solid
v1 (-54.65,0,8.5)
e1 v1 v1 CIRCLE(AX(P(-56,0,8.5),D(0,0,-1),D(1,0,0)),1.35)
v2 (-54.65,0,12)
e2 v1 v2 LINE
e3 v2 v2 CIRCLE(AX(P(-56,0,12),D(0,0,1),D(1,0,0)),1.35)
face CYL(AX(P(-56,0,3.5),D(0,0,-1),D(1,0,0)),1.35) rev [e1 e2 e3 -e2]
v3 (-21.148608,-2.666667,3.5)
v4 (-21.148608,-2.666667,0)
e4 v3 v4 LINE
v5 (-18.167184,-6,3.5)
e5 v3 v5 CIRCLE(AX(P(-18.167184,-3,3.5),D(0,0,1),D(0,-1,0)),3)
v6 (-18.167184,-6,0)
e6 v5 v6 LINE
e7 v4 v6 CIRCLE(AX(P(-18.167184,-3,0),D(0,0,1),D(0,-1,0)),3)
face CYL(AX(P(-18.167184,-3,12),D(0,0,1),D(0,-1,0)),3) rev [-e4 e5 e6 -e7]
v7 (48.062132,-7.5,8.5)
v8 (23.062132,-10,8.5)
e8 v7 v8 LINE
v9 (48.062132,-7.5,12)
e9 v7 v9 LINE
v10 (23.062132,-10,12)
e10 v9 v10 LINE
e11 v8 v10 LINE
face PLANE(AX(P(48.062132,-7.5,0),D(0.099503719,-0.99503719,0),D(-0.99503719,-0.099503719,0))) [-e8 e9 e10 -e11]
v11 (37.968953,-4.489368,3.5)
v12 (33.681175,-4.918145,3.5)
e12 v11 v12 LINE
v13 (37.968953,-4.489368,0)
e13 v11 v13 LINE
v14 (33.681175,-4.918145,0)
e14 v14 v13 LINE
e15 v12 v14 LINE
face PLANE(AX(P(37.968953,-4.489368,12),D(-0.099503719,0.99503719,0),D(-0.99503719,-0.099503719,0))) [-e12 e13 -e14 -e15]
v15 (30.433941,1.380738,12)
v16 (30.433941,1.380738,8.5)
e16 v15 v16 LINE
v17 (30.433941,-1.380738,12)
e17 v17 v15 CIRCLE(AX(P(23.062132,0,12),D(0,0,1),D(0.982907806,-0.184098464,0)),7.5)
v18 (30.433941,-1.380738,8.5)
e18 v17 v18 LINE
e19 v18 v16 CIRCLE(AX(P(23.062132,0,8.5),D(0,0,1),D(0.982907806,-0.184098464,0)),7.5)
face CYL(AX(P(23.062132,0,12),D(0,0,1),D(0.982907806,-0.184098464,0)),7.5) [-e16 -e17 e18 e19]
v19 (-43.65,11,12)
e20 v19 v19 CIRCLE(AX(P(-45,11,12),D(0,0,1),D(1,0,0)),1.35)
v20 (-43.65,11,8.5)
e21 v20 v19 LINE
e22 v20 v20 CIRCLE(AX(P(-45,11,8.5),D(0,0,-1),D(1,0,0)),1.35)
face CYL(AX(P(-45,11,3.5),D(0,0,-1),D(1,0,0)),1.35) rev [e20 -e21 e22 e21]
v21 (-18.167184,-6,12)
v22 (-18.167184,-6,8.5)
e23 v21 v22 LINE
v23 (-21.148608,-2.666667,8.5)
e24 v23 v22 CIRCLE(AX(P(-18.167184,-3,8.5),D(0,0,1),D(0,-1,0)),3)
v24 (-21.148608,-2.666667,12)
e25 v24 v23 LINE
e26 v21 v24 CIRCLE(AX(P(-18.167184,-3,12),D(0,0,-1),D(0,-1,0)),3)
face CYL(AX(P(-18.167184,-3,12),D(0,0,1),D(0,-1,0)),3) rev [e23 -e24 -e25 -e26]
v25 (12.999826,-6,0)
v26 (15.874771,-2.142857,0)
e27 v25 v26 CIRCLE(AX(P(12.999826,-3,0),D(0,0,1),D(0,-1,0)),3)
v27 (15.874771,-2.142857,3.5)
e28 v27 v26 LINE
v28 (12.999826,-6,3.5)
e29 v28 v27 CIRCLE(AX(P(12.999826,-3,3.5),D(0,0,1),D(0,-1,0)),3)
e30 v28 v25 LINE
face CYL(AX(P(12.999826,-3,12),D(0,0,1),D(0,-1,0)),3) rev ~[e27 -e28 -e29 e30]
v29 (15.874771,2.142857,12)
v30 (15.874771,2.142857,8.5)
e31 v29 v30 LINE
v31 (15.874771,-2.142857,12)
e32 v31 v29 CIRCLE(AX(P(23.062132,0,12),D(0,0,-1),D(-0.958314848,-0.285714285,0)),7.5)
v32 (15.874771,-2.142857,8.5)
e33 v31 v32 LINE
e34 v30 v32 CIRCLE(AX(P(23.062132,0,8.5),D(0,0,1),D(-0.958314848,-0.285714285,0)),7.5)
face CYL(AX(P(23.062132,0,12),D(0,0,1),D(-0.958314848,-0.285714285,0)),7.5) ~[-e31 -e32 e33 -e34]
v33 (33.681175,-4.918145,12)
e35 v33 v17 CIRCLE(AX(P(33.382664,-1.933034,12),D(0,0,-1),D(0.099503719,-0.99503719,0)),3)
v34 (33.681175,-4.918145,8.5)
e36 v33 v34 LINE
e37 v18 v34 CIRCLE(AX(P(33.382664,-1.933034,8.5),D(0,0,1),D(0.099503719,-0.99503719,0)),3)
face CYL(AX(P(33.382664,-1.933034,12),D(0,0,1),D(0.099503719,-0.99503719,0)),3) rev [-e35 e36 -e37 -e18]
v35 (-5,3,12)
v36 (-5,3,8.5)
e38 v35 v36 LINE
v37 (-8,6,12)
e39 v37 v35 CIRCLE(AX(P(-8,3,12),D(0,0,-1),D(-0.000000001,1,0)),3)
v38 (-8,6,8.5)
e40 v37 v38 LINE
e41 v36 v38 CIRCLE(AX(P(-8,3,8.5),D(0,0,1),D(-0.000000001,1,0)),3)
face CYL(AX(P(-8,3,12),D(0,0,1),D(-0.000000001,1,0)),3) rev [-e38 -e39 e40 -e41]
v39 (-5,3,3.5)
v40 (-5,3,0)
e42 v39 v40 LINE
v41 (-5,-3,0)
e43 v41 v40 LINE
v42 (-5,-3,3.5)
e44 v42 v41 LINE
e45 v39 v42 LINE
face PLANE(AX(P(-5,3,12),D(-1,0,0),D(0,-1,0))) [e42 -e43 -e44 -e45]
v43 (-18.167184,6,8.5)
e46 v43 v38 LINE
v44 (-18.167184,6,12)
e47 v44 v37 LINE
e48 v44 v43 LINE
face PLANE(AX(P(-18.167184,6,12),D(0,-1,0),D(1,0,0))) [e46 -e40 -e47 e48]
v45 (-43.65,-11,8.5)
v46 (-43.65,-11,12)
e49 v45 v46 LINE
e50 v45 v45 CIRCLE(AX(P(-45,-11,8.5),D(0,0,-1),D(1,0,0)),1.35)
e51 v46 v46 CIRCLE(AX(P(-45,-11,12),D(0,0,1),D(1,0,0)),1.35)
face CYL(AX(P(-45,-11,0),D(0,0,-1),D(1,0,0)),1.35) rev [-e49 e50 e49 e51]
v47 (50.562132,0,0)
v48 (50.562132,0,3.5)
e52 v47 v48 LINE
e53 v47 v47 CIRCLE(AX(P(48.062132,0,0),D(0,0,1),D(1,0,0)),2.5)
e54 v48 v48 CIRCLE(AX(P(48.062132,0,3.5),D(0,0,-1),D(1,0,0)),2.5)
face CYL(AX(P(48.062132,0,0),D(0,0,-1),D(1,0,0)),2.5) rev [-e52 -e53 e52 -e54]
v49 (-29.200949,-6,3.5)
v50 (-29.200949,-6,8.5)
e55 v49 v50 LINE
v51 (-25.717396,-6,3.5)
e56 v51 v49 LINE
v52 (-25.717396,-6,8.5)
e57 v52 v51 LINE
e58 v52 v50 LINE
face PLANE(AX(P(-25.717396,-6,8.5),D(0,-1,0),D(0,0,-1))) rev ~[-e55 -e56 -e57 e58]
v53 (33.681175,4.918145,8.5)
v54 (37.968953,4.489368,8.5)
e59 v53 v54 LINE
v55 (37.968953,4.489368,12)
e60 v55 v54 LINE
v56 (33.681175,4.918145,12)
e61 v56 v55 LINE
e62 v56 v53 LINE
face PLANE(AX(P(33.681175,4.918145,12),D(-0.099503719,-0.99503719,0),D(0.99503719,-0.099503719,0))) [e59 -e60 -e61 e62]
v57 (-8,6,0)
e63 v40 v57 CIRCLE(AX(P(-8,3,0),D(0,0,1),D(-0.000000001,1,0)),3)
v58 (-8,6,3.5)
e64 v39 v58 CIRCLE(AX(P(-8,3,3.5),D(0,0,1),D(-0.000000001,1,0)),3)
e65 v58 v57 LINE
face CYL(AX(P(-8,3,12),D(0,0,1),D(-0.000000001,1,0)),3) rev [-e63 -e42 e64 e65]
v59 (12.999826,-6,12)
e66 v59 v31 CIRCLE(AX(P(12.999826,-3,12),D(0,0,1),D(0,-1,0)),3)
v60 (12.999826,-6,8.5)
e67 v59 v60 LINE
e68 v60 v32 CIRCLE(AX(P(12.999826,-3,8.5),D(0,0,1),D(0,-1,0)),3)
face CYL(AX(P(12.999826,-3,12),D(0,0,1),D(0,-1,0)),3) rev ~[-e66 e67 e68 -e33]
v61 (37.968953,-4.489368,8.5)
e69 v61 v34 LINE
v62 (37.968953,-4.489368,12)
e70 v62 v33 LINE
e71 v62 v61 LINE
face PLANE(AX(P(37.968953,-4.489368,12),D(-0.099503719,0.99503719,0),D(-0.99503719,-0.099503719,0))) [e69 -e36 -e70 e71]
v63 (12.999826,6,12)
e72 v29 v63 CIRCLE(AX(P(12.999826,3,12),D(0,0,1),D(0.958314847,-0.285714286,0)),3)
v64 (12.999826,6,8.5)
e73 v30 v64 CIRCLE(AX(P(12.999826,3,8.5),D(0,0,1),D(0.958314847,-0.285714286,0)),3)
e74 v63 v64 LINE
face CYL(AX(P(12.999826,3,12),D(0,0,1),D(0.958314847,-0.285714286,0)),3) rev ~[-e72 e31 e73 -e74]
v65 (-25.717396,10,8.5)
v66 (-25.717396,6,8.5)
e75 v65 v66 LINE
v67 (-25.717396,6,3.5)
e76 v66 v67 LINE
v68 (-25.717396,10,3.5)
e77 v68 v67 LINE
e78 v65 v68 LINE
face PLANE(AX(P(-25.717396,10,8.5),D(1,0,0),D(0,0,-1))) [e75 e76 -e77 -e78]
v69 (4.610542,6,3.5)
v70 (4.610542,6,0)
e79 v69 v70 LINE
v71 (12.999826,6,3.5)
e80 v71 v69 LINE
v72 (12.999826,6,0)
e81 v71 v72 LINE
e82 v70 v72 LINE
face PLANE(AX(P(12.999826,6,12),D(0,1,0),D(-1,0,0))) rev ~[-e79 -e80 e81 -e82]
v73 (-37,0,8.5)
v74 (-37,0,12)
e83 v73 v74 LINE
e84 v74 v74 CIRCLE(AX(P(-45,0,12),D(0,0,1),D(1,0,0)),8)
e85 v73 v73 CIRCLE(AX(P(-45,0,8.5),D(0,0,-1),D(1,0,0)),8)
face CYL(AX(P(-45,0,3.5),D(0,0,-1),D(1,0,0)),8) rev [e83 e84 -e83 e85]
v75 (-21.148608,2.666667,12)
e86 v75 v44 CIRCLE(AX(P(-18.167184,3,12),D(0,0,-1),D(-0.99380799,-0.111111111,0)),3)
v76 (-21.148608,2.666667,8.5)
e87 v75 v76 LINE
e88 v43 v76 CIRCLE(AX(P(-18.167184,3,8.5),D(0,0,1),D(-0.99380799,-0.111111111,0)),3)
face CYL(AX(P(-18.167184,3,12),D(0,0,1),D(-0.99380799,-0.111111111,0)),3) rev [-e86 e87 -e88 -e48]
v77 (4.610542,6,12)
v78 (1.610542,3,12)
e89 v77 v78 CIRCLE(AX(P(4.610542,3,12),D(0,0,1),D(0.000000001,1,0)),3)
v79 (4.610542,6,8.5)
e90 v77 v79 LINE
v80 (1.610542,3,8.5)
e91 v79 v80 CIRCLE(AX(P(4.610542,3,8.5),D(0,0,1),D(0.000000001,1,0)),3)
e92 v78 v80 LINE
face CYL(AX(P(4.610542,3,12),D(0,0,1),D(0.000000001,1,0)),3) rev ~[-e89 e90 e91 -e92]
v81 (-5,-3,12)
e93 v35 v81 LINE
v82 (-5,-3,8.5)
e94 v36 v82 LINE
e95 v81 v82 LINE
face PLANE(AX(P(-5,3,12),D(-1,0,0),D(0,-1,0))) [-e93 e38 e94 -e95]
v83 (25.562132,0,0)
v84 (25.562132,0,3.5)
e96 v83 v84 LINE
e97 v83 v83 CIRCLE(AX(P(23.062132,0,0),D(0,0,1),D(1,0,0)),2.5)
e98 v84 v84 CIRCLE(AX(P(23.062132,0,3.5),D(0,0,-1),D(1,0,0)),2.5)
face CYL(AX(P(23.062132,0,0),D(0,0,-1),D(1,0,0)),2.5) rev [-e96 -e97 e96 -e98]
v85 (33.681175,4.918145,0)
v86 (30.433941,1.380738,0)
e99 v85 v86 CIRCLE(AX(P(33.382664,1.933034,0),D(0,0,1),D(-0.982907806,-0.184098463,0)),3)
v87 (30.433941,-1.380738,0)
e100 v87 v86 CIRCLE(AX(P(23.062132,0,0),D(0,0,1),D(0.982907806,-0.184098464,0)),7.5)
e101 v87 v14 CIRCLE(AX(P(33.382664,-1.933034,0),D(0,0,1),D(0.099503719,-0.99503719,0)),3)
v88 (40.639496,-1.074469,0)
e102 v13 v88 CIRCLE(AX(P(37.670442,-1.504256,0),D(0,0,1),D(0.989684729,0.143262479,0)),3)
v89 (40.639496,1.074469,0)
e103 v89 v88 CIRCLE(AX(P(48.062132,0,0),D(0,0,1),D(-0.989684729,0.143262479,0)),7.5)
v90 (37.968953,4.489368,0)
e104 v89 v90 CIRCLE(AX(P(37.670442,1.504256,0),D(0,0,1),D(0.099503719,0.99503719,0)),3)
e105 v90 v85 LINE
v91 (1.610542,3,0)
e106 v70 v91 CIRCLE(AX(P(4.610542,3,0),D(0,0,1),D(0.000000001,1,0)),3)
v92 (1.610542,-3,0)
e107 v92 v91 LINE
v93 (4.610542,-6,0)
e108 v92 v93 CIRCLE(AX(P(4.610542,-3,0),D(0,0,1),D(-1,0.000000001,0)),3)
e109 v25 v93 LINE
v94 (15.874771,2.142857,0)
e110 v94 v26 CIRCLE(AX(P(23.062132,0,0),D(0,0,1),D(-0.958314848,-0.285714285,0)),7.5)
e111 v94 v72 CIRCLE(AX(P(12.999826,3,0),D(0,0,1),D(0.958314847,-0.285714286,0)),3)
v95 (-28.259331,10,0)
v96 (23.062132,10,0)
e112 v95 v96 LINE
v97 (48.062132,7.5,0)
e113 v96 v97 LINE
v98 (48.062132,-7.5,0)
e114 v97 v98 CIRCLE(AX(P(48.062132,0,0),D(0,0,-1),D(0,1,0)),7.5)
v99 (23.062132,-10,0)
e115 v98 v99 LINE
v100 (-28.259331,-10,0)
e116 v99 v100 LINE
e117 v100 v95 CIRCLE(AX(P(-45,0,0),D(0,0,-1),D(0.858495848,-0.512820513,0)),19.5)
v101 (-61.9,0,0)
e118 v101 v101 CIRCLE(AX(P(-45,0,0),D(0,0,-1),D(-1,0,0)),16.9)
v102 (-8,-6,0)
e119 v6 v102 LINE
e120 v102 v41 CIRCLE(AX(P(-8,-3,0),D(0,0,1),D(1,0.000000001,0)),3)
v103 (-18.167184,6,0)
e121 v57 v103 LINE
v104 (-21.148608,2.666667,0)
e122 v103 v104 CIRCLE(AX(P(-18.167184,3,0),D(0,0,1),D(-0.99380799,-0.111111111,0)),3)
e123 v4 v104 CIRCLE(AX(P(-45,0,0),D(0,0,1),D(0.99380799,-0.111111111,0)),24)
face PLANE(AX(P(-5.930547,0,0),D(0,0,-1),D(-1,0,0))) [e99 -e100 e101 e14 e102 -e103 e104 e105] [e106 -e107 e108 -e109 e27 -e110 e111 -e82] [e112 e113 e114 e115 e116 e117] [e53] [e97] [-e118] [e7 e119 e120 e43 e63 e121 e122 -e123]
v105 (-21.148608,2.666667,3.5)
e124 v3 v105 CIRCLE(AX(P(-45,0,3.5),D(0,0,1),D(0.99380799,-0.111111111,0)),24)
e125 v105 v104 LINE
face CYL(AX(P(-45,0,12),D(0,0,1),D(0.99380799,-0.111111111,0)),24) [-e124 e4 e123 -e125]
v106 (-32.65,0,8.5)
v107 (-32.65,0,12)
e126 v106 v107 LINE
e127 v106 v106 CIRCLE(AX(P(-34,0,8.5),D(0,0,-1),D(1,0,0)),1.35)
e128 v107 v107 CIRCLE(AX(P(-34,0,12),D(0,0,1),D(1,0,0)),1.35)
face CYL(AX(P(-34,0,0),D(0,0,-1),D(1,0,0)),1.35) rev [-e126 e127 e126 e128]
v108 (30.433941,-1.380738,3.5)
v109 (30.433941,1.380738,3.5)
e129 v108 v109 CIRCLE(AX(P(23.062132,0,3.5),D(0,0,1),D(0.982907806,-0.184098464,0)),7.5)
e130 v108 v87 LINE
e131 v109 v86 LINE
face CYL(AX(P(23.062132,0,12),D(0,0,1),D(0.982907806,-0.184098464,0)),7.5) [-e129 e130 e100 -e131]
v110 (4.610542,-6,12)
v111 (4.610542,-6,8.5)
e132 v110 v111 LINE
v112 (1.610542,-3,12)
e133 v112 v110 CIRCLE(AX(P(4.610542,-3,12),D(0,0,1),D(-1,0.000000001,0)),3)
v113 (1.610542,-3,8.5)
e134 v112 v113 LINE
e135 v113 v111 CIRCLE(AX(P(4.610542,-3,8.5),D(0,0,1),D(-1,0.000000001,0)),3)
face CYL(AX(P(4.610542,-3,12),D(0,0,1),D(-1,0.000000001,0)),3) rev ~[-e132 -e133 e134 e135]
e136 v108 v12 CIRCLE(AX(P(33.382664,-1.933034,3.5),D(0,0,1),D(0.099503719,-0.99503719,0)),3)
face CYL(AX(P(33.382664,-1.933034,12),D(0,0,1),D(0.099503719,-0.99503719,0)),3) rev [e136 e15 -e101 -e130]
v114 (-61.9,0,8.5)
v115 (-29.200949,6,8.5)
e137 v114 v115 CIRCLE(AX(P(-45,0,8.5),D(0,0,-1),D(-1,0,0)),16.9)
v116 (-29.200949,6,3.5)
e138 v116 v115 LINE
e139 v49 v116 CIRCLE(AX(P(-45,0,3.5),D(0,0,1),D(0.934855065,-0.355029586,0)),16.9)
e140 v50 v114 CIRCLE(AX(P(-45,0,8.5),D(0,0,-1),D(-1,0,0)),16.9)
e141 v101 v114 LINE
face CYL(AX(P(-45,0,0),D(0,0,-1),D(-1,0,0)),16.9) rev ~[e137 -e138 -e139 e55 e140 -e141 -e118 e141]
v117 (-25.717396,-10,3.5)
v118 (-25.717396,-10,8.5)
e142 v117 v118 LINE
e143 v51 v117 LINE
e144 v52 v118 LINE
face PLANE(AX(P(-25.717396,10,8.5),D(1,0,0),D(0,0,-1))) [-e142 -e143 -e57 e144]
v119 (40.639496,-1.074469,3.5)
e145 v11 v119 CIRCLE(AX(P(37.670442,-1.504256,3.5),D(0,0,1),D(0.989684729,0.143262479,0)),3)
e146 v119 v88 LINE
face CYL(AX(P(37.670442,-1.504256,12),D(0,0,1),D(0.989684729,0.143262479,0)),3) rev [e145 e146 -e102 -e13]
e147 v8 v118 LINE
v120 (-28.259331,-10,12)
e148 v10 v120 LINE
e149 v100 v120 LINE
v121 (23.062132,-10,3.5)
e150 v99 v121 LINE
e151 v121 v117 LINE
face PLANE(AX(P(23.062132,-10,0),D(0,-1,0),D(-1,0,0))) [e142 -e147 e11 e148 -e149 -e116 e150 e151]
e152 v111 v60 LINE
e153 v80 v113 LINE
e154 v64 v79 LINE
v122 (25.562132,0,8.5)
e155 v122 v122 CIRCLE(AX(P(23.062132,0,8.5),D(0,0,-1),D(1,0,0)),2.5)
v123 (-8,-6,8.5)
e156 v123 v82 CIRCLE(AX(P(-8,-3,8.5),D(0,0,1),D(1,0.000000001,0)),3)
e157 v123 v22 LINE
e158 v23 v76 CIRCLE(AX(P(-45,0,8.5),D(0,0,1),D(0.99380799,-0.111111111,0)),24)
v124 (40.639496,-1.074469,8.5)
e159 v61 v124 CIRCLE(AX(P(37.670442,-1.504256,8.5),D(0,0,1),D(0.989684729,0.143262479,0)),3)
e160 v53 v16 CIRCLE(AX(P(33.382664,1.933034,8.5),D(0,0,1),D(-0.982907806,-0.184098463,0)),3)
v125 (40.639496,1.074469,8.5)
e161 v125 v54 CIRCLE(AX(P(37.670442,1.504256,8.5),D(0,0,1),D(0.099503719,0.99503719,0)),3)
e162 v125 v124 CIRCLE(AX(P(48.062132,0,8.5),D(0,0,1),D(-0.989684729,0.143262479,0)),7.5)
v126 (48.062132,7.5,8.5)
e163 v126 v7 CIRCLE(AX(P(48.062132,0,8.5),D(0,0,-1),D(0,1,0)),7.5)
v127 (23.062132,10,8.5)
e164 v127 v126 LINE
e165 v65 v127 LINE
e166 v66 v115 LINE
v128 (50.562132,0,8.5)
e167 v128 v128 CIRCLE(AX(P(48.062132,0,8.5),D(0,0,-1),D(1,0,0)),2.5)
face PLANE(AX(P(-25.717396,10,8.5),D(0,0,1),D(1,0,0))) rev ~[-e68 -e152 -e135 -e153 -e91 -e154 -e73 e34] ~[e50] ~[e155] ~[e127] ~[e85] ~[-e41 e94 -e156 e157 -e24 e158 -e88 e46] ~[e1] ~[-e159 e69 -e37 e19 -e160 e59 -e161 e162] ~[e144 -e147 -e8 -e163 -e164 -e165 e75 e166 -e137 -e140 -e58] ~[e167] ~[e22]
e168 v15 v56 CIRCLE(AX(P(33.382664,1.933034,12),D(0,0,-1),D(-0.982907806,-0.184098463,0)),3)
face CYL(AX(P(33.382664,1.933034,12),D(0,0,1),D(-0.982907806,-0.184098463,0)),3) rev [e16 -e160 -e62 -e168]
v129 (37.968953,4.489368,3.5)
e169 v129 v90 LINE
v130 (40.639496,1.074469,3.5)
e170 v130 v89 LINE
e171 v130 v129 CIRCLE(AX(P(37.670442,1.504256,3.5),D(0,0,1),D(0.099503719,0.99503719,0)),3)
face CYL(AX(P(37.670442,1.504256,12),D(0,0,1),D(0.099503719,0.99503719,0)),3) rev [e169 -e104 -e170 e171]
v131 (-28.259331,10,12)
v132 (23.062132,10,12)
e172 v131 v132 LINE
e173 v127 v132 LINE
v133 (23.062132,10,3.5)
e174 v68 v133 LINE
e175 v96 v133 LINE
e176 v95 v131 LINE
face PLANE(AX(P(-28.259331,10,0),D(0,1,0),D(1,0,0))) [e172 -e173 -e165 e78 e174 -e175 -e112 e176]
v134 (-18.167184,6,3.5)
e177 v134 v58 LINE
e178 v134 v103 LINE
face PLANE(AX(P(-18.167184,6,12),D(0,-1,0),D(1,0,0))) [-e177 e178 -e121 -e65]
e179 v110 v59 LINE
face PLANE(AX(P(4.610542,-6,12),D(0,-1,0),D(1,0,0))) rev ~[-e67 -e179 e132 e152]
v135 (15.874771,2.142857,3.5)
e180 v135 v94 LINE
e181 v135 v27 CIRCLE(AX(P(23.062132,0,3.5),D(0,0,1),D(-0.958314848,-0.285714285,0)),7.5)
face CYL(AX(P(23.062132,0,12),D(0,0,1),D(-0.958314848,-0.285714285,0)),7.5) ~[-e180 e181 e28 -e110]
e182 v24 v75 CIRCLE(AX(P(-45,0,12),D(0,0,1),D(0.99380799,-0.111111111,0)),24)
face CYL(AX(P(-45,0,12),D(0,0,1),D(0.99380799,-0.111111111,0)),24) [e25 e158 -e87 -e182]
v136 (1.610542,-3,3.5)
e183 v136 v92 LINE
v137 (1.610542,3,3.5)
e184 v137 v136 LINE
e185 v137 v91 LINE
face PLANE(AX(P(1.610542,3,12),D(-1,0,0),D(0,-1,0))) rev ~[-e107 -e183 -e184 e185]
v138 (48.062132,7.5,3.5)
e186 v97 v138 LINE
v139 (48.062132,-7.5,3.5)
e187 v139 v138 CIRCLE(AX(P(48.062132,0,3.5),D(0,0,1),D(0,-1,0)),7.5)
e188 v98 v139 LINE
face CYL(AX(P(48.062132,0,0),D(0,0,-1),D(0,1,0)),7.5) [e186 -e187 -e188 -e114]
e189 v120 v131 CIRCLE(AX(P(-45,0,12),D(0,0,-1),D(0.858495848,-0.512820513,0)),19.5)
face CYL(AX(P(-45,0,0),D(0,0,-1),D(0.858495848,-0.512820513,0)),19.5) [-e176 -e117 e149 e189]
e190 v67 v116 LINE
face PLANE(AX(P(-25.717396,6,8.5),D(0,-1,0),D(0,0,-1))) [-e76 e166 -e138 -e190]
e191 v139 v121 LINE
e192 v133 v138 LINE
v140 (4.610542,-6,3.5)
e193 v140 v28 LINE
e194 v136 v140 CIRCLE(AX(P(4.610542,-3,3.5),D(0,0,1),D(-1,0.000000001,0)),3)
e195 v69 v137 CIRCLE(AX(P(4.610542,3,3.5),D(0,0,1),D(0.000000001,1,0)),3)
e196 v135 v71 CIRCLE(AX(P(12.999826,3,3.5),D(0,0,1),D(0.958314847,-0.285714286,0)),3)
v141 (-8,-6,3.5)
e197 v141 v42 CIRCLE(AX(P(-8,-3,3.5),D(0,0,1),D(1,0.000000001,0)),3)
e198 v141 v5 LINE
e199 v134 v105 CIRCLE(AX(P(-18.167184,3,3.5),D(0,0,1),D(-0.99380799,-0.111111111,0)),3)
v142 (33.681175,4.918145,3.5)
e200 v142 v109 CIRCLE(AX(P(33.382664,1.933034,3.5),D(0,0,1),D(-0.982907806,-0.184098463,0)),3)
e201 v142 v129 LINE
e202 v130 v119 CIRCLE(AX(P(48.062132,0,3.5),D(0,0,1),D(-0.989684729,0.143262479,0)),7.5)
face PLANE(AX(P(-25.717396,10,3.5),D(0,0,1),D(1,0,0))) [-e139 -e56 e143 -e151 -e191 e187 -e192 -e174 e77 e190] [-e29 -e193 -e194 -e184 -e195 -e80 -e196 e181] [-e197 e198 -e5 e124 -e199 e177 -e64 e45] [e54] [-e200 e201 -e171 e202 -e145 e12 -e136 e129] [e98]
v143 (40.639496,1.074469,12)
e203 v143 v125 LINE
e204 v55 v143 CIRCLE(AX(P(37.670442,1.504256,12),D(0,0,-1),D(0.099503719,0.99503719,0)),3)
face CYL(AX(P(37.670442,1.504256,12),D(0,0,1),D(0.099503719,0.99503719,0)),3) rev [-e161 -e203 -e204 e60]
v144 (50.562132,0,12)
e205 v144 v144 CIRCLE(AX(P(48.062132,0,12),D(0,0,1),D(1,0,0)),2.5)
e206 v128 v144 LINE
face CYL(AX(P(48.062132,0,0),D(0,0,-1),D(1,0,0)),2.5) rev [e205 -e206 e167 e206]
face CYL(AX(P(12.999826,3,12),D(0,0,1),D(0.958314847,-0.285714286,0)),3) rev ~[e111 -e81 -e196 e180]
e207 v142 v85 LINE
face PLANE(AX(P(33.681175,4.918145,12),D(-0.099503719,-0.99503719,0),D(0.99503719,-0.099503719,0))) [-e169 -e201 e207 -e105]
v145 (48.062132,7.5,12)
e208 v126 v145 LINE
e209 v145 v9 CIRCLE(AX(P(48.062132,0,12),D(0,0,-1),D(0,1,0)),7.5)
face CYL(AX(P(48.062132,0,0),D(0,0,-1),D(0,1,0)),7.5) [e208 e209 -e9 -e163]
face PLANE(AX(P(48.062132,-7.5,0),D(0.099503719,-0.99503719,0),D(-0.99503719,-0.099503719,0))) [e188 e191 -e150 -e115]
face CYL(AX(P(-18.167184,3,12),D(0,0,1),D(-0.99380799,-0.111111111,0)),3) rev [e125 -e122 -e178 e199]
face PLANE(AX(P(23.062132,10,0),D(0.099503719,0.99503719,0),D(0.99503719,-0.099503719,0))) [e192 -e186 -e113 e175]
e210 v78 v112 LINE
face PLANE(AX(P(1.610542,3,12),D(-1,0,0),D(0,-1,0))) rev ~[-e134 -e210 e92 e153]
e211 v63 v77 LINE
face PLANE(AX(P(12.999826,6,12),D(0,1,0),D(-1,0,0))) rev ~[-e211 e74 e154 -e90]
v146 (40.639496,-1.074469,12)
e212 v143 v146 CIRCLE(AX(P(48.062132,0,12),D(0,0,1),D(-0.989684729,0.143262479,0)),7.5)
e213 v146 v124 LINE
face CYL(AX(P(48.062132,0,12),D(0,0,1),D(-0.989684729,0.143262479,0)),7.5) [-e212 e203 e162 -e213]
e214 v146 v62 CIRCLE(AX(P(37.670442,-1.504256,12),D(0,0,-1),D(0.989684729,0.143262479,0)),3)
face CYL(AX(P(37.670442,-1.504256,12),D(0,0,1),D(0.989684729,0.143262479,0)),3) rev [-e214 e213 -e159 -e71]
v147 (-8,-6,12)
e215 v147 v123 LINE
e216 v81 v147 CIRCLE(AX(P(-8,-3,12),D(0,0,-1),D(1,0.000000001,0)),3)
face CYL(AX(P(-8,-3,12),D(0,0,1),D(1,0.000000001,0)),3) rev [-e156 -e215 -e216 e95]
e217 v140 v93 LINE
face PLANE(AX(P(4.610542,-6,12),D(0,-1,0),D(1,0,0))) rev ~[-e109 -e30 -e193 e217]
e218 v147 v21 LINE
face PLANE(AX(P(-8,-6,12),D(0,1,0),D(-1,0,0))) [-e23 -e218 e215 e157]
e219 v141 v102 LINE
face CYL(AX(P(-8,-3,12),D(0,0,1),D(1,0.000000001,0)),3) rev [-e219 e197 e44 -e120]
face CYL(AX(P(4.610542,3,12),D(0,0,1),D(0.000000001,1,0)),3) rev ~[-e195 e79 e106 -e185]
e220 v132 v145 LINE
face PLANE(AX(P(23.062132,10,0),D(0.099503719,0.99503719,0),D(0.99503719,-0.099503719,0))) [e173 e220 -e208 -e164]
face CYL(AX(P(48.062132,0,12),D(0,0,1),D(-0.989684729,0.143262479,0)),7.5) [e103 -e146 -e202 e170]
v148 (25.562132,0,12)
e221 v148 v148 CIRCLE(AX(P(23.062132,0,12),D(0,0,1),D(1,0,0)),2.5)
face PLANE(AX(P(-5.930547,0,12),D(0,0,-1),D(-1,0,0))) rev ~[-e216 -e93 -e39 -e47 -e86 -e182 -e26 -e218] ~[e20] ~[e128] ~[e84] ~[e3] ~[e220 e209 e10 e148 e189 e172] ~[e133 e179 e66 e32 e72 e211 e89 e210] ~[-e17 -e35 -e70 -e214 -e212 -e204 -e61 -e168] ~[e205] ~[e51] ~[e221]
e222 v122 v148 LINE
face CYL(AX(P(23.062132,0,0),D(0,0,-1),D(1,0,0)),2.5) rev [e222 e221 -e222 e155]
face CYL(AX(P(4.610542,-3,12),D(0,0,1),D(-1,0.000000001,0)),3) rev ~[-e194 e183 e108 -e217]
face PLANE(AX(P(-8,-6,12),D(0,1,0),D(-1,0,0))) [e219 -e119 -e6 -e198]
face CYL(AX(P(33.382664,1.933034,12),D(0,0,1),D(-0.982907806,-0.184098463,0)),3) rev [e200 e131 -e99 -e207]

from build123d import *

# Parameters (mm, degrees)
SKETCH_2_R               = 1.35
SKETCH_2_R_2             = 2.5
EXTRUDE_1_DEPTH          = 12
SKETCH_3_W               = 81.279527938
SKETCH_3_H               = 5
CUT_EXTRUDE_1_DEPTH      = 72.933997526
SKETCH_4_R               = 16.9
CUT_EXTRUDE_2_DEPTH      = 8.5
SKETCH_5_R               = 8
CUT_EXTRUDE_3_DEPTH      = 68.917229037
CUT_EXTRUDE_4_REACH      = 86.443
CUT_EXTRUDE_4_END_RADIUS = 16.9
SKETCH_7_W               = 5
SKETCH_7_H               = 12
CUT_EXTRUDE_6_DEPTH      = 69.443407279
SKETCH_9_R               = 16.9
SKETCH_9_R_2             = 1.35
SKETCH_9_R_3             = 8
EXTRUDE_3_DEPTH          = 8.5
SKETCH_10_R              = 16.9
CUT_EXTRUDE_7_DEPTH      = 8.5


with BuildPart() as part:
    # 草图2 → 凸台-拉伸1 (new body)
    with BuildSketch(Plane.XY):
        with BuildLine():
            Line((-28.259330957, 10), (23.06213196, 10))
            Line((23.06213196, 10), (48.06213196, 7.5))
            ThreePointArc((48.06213196, 7.5), (55.56213196, 0), (48.06213196, -7.5))
            Line((48.06213196, -7.5), (23.06213196, -10))
            Line((23.06213196, -10), (-28.259330957, -10))
            ThreePointArc((-28.259330957, -10), (-64.5, 0), (-28.259330957, 10))
        make_face()
        with Locations((-34, 0)):
            Circle(SKETCH_2_R, mode=Mode.SUBTRACT)
        with Locations((-45, -11)):
            Circle(SKETCH_2_R, mode=Mode.SUBTRACT)
        with Locations((-56, 0)):
            Circle(SKETCH_2_R, mode=Mode.SUBTRACT)
        with Locations((-45, 11)):
            Circle(SKETCH_2_R, mode=Mode.SUBTRACT)
        with Locations((48.06213196, 0)):
            Circle(SKETCH_2_R_2, mode=Mode.SUBTRACT)
        with Locations((23.06213196, 0)):
            Circle(SKETCH_2_R_2, mode=Mode.SUBTRACT)
    extrude(amount=EXTRUDE_1_DEPTH)

    # 草图3 → 切除-拉伸1 (cut, through all)
    with BuildSketch(Plane(origin=(0, 10, 0), x_dir=(1, 0, 0), z_dir=(0, 1, 0))):
        with Locations((14.922367991, -6)):
            Rectangle(SKETCH_3_W, SKETCH_3_H)
    extrude(amount=-CUT_EXTRUDE_1_DEPTH, mode=Mode.SUBTRACT)

    # 草图4 → 切除-拉伸2 (cut)
    with BuildSketch(Plane.XY.offset(12)):
        with Locations((-45, 0)):
            Circle(SKETCH_4_R)
    extrude(amount=-CUT_EXTRUDE_2_DEPTH, mode=Mode.SUBTRACT)

    # 草图5 → 切除-拉伸3 (cut, through all)
    with BuildSketch(Plane.XY.offset(3.5)):
        with Locations((-45, 0)):
            Circle(SKETCH_5_R)
    extrude(amount=-CUT_EXTRUDE_3_DEPTH, mode=Mode.SUBTRACT)

    # 切除-拉伸4: up to this cylinder (the profile starts outside it)
    cut_extrude_4_end = Plane(origin=(-45, 0, 6), z_dir=(0, 0, 1)) * Cylinder(CUT_EXTRUDE_4_END_RADIUS, 207.686, mode=Mode.PRIVATE)
    # 草图7 → 切除-拉伸4 (cut, up to the surface)
    with BuildSketch(Plane(origin=(-25.717395978, 0, 0), x_dir=(0, 0, -1), z_dir=(1, 0, 0)), mode=Mode.PRIVATE) as cut_extrude_4_sk1:
        with Locations((-6, 0)):
            Rectangle(SKETCH_7_W, SKETCH_7_H)
    cut_extrude_4_tool1 = extrude(cut_extrude_4_sk1.sketch, amount=-CUT_EXTRUDE_4_REACH, mode=Mode.PRIVATE) - cut_extrude_4_end
    add(cut_extrude_4_tool1.solids().sort_by_distance((-25.717396, 0, 6))[0], mode=Mode.SUBTRACT)

    # 草图8 → 切除-拉伸6 (cut, through all)
    with BuildSketch(Plane.XY.offset(12)):
        with BuildLine():
            Line((-5, 3), (-5, -3))
            ThreePointArc((-5, -3), (-5.878679656, -5.121320344), (-8, -6))
            Line((-8, -6), (-18.16718427, -6))
            ThreePointArc((-18.16718427, -6), (-20.403252248, -5), (-21.14860824, -2.666666667))
            ThreePointArc((-21.14860824, -2.666666667), (-21, 0), (-21.14860824, 2.666666667))
            ThreePointArc((-21.14860824, 2.666666667), (-20.403252248, 5), (-18.16718427, 6))
            Line((-18.16718427, 6), (-8, 6))
            ThreePointArc((-8, 6), (-5.878679656, 5.121320344), (-5, 3))
        make_face()
        with BuildLine():
            Line((1.610541595, 3), (1.610541595, -3))
            ThreePointArc((1.610541595, -3), (2.489221251, -5.121320344), (4.610541595, -6))
            Line((4.610541595, -6), (12.999826061, -6))
            ThreePointArc((12.999826061, -6), (15.405177238, -4.792842914), (15.874770603, -2.142857143))
            ThreePointArc((15.874770603, -2.142857143), (15.56213196, 0), (15.874770603, 2.142857143))
            ThreePointArc((15.874770603, 2.142857143), (15.405177238, 4.792842914), (12.999826061, 6))
            Line((12.999826061, 6), (4.610541595, 6))
            ThreePointArc((4.610541595, 6), (2.489221251, 5.121320344), (1.610541595, 3))
        make_face()
        with BuildLine():
            Line((33.681175083, 4.918145439), (37.968953466, 4.489367601))
            ThreePointArc((37.968953466, 4.489367601), (40.033624407, 3.3523281), (40.639496495, 1.074468593))
            ThreePointArc((40.639496495, 1.074468593), (40.56213196, 0), (40.639496495, -1.074468593))
            ThreePointArc((40.639496495, -1.074468593), (40.033624407, -3.3523281), (37.968953466, -4.489367601))
            Line((37.968953466, -4.489367601), (33.681175083, -4.918145439))
            ThreePointArc((33.681175083, -4.918145439), (31.17263717, -3.961772821), (30.433940507, -1.380738478))
            ThreePointArc((30.433940507, -1.380738478), (30.56213196, 0), (30.433940507, 1.380738478))
            ThreePointArc((30.433940507, 1.380738478), (31.17263717, 3.961772821), (33.681175083, 4.918145439))
        make_face()
    extrude(amount=-CUT_EXTRUDE_6_DEPTH, mode=Mode.SUBTRACT)

    # 草图9 → 凸台-拉伸3 (add)
    with BuildSketch(Plane.XY.offset(3.5)):
        with Locations((-45, 0)):
            Circle(SKETCH_9_R)
        with Locations((-34, 0)):
            Circle(SKETCH_9_R_2, mode=Mode.SUBTRACT)
        with Locations((-45, -11)):
            Circle(SKETCH_9_R_2, mode=Mode.SUBTRACT)
        with Locations((-56, 0)):
            Circle(SKETCH_9_R_2, mode=Mode.SUBTRACT)
        with Locations((-45, 11)):
            Circle(SKETCH_9_R_2, mode=Mode.SUBTRACT)
        with Locations((-45, 0)):
            Circle(SKETCH_9_R_3, mode=Mode.SUBTRACT)
    extrude(amount=EXTRUDE_3_DEPTH)

    # 草图10 → 切除-拉伸7 (cut)
    with BuildSketch(Plane(origin=(0, 0, 0), x_dir=(-1, 0, 0), z_dir=(0, 0, -1))):
        with Locations((45, 0)):
            Circle(SKETCH_10_R)
    extrude(amount=-CUT_EXTRUDE_7_DEPTH, mode=Mode.SUBTRACT)


solid = part.part
